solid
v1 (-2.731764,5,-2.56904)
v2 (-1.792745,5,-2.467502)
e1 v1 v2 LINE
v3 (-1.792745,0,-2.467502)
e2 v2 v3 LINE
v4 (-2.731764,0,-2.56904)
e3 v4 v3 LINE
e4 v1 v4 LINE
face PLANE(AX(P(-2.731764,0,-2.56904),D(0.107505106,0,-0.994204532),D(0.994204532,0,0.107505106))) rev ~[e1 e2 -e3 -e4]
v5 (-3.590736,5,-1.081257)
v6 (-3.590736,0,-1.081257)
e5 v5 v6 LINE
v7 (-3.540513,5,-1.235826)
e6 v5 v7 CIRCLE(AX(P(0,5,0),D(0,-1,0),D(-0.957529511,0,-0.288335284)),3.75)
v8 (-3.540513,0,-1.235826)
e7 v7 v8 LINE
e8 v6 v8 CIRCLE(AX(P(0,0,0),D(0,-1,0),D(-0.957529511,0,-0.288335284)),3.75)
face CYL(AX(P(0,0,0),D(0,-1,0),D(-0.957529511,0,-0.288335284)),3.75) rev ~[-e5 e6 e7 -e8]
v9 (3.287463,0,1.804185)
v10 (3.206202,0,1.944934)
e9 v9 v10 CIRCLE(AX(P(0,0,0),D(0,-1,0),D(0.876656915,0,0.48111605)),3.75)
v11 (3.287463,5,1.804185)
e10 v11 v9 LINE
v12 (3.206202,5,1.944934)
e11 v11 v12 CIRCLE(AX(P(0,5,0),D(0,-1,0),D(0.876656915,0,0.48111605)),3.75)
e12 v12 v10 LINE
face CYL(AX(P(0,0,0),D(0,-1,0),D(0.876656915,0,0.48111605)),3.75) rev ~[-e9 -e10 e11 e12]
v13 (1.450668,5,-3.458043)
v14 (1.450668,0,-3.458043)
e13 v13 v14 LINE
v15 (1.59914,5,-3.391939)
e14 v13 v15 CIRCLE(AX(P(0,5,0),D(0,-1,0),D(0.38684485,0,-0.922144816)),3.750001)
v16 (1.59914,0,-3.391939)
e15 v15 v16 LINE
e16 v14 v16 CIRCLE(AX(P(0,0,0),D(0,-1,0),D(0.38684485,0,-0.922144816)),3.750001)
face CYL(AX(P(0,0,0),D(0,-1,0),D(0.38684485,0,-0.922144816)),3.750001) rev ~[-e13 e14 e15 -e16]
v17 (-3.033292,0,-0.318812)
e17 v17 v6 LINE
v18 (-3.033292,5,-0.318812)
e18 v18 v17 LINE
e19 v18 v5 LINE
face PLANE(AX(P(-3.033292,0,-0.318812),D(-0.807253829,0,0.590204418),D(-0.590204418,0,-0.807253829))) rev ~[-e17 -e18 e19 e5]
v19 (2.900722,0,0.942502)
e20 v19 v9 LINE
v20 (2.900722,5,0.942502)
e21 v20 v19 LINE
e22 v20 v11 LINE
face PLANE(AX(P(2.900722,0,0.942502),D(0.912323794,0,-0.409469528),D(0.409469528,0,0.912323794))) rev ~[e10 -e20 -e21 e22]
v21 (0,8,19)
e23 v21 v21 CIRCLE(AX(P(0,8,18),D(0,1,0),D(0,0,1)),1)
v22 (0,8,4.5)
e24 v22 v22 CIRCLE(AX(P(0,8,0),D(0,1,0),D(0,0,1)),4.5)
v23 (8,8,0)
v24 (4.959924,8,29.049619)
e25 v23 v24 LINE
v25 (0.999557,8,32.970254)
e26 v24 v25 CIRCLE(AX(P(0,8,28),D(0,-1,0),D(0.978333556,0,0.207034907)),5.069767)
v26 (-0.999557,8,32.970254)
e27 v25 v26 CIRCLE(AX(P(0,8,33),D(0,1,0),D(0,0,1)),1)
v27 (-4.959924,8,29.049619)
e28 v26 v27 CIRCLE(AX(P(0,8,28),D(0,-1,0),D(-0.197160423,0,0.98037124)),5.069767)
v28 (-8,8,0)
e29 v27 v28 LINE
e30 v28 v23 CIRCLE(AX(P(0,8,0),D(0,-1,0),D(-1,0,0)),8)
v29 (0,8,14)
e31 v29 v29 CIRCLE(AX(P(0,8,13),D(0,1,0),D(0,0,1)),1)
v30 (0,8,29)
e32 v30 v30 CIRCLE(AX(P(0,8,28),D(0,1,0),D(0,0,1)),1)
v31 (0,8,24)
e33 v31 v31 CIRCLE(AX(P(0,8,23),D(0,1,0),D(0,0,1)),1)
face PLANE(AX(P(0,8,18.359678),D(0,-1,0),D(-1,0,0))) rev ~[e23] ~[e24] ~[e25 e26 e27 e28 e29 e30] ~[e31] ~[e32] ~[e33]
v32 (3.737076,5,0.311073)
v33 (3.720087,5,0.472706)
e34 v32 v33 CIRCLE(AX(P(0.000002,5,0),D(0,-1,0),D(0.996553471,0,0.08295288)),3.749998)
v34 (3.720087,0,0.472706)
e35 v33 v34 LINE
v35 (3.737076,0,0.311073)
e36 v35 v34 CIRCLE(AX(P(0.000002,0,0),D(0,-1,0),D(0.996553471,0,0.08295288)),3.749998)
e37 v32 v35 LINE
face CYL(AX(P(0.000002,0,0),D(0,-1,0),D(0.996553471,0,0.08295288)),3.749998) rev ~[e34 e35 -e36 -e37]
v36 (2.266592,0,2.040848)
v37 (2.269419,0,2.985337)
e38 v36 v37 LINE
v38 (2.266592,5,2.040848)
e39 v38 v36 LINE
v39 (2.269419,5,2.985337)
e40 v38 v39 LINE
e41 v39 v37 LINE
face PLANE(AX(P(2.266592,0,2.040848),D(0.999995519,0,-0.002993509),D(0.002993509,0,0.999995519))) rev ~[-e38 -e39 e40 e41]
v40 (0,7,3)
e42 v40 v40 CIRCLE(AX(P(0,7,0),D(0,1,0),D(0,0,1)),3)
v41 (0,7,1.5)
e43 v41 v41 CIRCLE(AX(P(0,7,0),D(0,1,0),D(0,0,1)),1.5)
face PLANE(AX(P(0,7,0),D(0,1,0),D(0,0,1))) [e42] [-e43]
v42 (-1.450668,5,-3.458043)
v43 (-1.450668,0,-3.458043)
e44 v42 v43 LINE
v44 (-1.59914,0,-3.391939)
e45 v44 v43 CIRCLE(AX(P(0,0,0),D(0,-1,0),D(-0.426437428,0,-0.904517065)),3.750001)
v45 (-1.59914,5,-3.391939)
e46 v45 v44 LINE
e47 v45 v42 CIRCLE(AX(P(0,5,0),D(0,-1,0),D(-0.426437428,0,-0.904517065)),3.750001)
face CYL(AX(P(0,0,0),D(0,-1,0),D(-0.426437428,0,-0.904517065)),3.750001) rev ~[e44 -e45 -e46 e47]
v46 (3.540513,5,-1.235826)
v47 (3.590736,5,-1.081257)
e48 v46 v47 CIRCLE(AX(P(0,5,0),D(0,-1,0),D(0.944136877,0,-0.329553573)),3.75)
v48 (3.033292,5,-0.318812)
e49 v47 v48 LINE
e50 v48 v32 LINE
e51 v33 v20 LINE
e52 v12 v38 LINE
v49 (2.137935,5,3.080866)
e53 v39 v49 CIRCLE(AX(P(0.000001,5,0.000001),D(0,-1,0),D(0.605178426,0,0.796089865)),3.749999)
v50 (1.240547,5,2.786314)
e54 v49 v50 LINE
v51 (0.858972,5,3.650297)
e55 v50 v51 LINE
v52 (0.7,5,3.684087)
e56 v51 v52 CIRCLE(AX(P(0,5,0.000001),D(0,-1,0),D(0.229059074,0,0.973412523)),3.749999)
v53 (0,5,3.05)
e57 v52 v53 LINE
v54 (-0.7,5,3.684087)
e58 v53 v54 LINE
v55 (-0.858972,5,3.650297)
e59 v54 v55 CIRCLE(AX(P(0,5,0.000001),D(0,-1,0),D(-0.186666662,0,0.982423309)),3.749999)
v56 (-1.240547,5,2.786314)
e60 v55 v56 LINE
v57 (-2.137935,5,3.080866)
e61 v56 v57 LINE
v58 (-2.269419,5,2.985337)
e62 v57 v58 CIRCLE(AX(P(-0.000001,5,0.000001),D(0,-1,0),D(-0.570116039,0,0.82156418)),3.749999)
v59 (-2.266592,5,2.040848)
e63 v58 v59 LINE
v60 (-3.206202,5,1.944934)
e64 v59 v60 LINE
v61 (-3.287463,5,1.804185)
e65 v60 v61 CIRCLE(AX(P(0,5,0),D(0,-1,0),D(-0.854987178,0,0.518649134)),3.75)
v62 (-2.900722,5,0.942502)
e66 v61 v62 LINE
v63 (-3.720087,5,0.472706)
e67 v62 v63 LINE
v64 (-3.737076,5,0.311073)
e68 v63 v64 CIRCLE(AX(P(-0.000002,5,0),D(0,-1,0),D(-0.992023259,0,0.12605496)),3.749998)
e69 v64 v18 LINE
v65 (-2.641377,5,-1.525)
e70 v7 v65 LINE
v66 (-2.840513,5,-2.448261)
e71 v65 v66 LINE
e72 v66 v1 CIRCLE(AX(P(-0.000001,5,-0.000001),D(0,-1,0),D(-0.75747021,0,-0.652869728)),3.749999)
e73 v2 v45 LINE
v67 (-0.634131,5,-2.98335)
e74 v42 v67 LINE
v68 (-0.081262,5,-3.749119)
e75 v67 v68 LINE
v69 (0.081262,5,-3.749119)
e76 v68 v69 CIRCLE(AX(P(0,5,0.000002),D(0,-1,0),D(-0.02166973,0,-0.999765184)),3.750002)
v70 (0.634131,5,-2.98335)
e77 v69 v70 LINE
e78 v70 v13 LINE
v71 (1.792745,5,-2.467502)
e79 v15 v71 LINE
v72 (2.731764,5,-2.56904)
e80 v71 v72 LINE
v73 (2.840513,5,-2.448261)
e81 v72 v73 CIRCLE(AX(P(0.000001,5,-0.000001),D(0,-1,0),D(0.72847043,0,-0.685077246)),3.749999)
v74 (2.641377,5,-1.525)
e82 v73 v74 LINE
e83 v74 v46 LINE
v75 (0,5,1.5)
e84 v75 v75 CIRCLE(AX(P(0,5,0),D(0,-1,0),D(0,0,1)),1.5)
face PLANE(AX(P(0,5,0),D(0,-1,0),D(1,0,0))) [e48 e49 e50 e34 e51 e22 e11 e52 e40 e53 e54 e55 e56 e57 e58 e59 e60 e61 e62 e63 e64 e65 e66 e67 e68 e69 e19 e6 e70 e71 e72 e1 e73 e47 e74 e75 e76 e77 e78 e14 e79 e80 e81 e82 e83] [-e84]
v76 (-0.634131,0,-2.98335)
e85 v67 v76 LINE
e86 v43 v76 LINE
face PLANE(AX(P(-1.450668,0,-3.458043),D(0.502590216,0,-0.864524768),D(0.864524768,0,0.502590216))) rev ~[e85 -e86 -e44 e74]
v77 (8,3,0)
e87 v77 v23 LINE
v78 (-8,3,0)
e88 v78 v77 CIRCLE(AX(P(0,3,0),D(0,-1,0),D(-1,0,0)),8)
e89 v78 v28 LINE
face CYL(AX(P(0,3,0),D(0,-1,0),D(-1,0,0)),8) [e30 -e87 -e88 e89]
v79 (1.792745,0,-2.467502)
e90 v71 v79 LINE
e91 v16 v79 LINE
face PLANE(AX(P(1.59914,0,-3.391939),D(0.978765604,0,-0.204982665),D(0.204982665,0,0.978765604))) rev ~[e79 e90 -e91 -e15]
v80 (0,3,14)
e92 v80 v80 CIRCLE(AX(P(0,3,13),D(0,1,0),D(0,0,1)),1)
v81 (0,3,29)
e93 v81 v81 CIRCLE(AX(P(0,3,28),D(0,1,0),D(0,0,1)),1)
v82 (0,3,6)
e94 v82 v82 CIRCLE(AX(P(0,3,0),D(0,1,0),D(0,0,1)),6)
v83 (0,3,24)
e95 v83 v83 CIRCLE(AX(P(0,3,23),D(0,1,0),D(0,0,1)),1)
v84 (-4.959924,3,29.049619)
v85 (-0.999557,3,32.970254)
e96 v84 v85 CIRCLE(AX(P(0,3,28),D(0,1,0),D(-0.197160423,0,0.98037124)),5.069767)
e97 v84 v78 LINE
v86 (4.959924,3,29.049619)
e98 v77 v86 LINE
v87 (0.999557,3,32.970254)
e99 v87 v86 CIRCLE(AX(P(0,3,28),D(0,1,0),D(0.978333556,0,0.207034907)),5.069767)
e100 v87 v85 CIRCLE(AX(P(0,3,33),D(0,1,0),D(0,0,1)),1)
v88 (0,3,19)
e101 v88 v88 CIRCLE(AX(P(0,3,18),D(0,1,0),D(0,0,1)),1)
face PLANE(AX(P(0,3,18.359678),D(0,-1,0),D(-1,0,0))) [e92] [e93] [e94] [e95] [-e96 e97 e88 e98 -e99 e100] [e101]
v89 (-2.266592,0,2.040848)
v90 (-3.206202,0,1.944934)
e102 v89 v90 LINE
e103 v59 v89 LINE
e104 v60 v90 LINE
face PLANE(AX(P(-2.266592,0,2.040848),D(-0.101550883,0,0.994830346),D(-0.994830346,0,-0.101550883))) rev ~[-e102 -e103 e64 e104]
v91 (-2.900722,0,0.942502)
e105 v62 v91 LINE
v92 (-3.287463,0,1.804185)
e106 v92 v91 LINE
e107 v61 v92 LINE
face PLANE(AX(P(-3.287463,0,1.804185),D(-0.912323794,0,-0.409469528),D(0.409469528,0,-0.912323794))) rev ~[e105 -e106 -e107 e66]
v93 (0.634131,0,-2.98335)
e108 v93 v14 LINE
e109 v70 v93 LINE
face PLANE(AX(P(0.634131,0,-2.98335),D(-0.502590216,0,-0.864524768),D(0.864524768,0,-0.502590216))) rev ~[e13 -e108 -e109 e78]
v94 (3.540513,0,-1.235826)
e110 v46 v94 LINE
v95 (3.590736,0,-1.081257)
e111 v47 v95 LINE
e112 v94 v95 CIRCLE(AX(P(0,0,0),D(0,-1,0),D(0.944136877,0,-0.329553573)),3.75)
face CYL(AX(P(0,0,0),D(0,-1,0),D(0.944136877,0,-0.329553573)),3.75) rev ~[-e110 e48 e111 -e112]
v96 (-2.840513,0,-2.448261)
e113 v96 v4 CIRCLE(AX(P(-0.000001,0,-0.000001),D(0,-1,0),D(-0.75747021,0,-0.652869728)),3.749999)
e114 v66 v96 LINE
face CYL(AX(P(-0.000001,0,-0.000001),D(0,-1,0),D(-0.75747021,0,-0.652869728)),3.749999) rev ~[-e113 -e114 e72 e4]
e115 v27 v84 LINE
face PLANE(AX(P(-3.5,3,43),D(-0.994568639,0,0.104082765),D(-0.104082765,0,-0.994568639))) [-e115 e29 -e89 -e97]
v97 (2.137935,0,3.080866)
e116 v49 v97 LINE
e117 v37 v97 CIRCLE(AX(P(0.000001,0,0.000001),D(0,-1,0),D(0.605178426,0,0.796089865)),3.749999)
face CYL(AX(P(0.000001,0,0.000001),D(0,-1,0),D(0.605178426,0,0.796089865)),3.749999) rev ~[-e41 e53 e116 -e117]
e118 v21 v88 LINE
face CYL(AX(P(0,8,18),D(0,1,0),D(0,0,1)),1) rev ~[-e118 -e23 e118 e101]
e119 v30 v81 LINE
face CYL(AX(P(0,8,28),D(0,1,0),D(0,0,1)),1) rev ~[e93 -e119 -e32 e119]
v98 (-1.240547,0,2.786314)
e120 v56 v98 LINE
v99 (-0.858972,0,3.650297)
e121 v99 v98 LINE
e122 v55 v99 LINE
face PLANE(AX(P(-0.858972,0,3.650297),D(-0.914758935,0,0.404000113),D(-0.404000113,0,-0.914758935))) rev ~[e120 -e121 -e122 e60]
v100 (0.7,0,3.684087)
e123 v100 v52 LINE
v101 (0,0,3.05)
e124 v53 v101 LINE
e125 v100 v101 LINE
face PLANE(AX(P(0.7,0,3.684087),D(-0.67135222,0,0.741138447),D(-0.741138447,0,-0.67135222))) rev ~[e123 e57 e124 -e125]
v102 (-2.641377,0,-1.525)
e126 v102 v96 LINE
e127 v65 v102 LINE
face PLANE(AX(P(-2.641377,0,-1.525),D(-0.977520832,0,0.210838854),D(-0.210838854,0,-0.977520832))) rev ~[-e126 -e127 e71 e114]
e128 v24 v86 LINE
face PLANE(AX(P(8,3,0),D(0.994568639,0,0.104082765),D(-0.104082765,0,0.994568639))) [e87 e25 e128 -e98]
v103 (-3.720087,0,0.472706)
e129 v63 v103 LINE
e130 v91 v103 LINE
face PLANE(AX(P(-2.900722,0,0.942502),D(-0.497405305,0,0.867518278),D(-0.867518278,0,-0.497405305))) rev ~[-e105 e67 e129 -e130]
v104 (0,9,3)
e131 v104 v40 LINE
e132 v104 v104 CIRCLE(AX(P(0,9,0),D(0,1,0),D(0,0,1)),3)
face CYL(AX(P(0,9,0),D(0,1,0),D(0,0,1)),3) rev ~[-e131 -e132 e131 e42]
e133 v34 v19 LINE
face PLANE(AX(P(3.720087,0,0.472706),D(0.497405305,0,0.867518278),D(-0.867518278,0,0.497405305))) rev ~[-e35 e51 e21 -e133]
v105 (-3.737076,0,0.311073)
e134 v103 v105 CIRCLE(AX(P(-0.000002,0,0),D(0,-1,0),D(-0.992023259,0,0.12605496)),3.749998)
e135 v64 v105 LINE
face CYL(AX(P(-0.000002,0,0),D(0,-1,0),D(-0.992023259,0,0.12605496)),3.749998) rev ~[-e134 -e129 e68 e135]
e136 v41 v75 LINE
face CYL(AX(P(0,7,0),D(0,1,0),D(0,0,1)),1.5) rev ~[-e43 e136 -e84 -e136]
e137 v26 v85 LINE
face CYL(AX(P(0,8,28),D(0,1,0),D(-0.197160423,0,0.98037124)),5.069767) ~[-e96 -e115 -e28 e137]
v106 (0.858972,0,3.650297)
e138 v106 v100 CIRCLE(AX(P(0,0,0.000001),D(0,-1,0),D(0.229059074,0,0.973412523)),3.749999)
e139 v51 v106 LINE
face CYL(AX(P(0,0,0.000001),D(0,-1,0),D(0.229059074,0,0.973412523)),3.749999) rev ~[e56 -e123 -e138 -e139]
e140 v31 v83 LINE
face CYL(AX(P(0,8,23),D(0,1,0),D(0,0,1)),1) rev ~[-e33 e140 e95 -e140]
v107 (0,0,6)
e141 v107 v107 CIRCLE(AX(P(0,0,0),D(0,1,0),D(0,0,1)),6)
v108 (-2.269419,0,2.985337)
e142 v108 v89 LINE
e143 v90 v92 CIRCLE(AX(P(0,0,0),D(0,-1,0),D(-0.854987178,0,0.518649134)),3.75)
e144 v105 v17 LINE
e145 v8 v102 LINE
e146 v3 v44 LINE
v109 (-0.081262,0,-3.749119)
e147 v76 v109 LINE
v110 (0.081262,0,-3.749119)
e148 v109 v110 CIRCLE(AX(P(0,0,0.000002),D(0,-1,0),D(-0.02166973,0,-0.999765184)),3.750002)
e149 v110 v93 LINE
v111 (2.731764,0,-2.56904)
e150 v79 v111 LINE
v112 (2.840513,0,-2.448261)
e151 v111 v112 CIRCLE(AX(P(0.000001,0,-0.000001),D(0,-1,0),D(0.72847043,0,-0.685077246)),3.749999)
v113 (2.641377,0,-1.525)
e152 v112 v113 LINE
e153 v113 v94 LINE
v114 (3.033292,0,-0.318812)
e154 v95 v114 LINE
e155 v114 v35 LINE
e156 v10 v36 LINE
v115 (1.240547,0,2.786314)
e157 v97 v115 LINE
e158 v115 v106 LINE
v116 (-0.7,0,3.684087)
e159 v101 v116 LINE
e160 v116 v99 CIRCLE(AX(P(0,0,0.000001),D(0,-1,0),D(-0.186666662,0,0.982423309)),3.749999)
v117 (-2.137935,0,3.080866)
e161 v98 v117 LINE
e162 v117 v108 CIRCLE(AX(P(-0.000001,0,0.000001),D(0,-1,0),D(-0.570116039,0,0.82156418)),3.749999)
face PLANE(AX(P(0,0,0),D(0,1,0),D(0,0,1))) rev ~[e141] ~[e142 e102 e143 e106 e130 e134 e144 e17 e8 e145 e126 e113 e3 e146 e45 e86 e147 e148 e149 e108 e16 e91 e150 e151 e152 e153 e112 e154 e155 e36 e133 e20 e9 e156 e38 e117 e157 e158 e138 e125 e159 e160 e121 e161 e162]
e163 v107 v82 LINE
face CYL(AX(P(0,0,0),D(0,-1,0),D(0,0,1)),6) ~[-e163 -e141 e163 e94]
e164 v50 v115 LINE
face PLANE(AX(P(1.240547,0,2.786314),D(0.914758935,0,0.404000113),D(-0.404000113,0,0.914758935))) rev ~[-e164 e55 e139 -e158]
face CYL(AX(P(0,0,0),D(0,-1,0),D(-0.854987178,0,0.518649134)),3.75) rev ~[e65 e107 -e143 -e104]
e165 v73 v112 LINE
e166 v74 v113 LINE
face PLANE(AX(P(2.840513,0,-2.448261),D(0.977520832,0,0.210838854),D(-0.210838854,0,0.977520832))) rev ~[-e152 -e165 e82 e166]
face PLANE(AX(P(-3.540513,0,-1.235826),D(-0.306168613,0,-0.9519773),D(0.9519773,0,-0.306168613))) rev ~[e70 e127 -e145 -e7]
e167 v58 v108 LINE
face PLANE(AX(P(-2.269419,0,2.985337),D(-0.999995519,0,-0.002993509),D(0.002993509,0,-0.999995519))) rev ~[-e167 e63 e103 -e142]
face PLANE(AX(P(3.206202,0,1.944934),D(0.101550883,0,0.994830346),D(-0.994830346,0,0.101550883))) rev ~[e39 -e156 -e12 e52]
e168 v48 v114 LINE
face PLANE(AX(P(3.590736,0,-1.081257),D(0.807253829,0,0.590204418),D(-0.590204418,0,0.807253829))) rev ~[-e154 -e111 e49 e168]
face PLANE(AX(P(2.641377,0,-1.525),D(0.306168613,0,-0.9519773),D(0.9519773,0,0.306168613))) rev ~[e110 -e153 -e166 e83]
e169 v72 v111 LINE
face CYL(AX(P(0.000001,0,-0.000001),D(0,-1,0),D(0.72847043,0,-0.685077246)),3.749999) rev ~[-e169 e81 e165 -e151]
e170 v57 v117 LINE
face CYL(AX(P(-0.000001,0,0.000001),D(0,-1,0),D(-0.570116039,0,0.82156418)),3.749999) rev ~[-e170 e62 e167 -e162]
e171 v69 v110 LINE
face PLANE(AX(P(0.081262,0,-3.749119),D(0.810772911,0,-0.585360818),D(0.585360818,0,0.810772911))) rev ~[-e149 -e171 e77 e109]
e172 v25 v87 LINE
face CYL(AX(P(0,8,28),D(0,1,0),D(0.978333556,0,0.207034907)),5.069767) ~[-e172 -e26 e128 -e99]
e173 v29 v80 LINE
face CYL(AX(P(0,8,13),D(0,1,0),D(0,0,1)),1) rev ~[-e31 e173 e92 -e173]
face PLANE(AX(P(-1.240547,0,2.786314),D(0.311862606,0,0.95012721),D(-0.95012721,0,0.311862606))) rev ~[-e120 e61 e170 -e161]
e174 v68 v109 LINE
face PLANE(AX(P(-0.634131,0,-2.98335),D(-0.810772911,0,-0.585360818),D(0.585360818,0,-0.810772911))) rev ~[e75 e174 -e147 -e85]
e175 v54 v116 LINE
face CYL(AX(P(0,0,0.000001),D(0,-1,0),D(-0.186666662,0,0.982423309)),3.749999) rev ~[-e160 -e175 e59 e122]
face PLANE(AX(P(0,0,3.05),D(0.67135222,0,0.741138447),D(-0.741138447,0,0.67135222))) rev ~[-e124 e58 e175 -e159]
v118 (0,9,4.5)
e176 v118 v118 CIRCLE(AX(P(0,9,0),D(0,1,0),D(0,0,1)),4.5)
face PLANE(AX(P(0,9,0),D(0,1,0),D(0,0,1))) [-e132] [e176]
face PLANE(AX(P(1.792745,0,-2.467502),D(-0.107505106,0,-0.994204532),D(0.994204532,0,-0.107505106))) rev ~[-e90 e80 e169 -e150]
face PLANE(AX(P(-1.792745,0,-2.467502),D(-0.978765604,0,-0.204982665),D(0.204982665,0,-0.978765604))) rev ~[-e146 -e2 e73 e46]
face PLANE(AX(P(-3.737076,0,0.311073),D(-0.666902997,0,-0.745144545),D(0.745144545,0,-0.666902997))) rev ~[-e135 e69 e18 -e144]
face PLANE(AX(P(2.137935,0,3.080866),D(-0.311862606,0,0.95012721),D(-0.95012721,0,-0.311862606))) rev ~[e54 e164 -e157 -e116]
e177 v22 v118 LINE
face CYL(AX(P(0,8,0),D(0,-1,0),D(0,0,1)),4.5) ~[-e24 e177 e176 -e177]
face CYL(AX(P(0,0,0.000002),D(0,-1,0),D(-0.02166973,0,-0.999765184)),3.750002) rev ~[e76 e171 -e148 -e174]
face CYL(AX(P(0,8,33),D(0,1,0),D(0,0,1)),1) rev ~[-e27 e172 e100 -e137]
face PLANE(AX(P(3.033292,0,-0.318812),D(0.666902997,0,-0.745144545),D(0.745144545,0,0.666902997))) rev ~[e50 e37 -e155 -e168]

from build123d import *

# Parameters (mm, degrees)
SKETCH1_R           = 6
BOSS_EXTRUDE1_DEPTH = 3
CUT_EXTRUDE4_DEPTH  = 10
BOSS_EXTRUDE2_DEPTH = 5
SKETCH3_R           = 4.5
BOSS_EXTRUDE3_DEPTH = 1
SKETCH4_R           = 3
CUT_EXTRUDE1_DEPTH  = 2
SKETCH5_R           = 1.5
CUT_EXTRUDE2_DEPTH  = 48.699580711
SKETCH6_R           = 1
CUT_EXTRUDE3_DEPTH  = 10
SKETCH8_R           = 1.5
CUT_EXTRUDE5_DEPTH  = 2
SKETCH9_R           = 1
CUT_EXTRUDE6_DEPTH  = 10


with BuildPart() as part:
    # Sketch1 → Boss-Extrude1 (new body)
    with BuildSketch(Plane(origin=(0, 0, 0), x_dir=(1, 0, 0), z_dir=(0, 1, 0))):
        with Locations(Location((0, 0, 0), (0, 0, 270))):
            Circle(SKETCH1_R)
    extrude(amount=BOSS_EXTRUDE1_DEPTH)

    # Sketch7 → Cut-Extrude4 (cut, through all)
    with BuildSketch(Plane.XZ):
        with BuildLine():
            Line((0.7, 3.684087404), (0, 3.05))
            Line((0, 3.05), (-0.7, 3.684087404))
            ThreePointArc((-0.7, 3.684087404), (-0.779668841, 3.668053503), (-0.858971523, 3.650296964))
            Line((-0.858971523, 3.650296964), (-1.240546761, 2.786313646))
            Line((-1.240546761, 2.786313646), (-2.137935164, 3.080865663))
            ThreePointArc((-2.137935164, 3.080865663), (-2.204194696, 3.033813729), (-2.269419066, 2.985337016))
            Line((-2.269419066, 2.985337016), (-2.266591718, 2.040848349))
            Line((-2.266591718, 2.040848349), (-3.206201915, 1.944934261))
            ThreePointArc((-3.206201915, 1.944934261), (-3.247595264, 1.875), (-3.287463436, 1.804185178))
            Line((-3.287463436, 1.804185178), (-2.900722375, 0.942501833))
            Line((-2.900722375, 0.942501833), (-3.720087228, 0.472706055))
            ThreePointArc((-3.720087228, 0.472706055), (-3.729457108, 0.391981737), (-3.737075512, 0.311073332))
            Line((-3.737075512, 0.311073332), (-3.033291781, -0.318811813))
            Line((-3.033291781, -0.318811813), (-3.590735663, -1.081257322))
            ThreePointArc((-3.590735663, -1.081257322), (-3.566461936, -1.158813729), (-3.540513282, -1.235825919))
            Line((-3.540513282, -1.235825919), (-2.641377482, -1.525))
            Line((-2.641377482, -1.525), (-2.840513282, -2.448261485))
            ThreePointArc((-2.840513282, -2.448261485), (-2.786793096, -2.509239774), (-2.73176414, -2.569039642))
            Line((-2.73176414, -2.569039642), (-1.792745019, -2.467501833))
            Line((-1.792745019, -2.467501833), (-1.599140348, -3.391938995))
            ThreePointArc((-1.599140348, -3.391938995), (-1.525262412, -3.425795466), (-1.450668162, -3.458043072))
            Line((-1.450668162, -3.458043072), (-0.634130657, -2.983350182))
            Line((-0.634130657, -2.983350182), (-0.081261521, -3.749119439))
            ThreePointArc((-0.081261521, -3.749119439), (0, -3.75), (0.081261521, -3.749119439))
            Line((0.081261521, -3.749119439), (0.634130657, -2.983350182))
            Line((0.634130657, -2.983350182), (1.450668162, -3.458043072))
            ThreePointArc((1.450668162, -3.458043072), (1.525262412, -3.425795466), (1.599140348, -3.391938995))
            Line((1.599140348, -3.391938995), (1.792745019, -2.467501833))
            Line((1.792745019, -2.467501833), (2.73176414, -2.569039642))
            ThreePointArc((2.73176414, -2.569039642), (2.786793096, -2.509239774), (2.840513282, -2.448261485))
            Line((2.840513282, -2.448261485), (2.641377482, -1.525))
            Line((2.641377482, -1.525), (3.540513282, -1.235825919))
            ThreePointArc((3.540513282, -1.235825919), (3.566461936, -1.158813729), (3.590735663, -1.081257322))
            Line((3.590735663, -1.081257322), (3.033291781, -0.318811813))
            Line((3.033291781, -0.318811813), (3.737075512, 0.311073332))
            ThreePointArc((3.737075512, 0.311073332), (3.729457108, 0.391981737), (3.720087228, 0.472706055))
            Line((3.720087228, 0.472706055), (2.900722375, 0.942501833))
            Line((2.900722375, 0.942501833), (3.287463436, 1.804185178))
            ThreePointArc((3.287463436, 1.804185178), (3.247595264, 1.875), (3.206201915, 1.944934261))
            Line((3.206201915, 1.944934261), (2.266591718, 2.040848349))
            Line((2.266591718, 2.040848349), (2.269419066, 2.985337016))
            ThreePointArc((2.269419066, 2.985337016), (2.204194696, 3.033813729), (2.137935164, 3.080865663))
            Line((2.137935164, 3.080865663), (1.240546761, 2.786313646))
            Line((1.240546761, 2.786313646), (0.858971523, 3.650296964))
            ThreePointArc((0.858971523, 3.650296964), (0.779668841, 3.668053503), (0.7, 3.684087404))
        make_face()
    extrude(amount=-CUT_EXTRUDE4_DEPTH, mode=Mode.SUBTRACT)

    # Sketch2 → Boss-Extrude2 (add)
    with BuildSketch(Plane(origin=(0, 3, 0), x_dir=(1, 0, 0), z_dir=(0, 1, 0))):
        with BuildLine():
            Line((8, 0), (3.5, -43))
            ThreePointArc((3.5, -43), (0, -46.5), (-3.5, -43))
            Line((-3.5, -43), (-8, 0))
            ThreePointArc((-8, 0), (0, 8), (8, 0))
        make_face()
    extrude(amount=BOSS_EXTRUDE2_DEPTH)

    # Sketch3 → Boss-Extrude3 (add)
    with BuildSketch(Plane(origin=(0, 8, 0), x_dir=(1, 0, 0), z_dir=(0, 1, 0))):
        with Locations(Location((0, 0, 0), (0, 0, 270))):
            Circle(SKETCH3_R)
    extrude(amount=BOSS_EXTRUDE3_DEPTH)

    # Sketch4 → Cut-Extrude1 (cut)
    with BuildSketch(Plane(origin=(0, 9, 0), x_dir=(1, 0, 0), z_dir=(0, 1, 0))):
        with Locations(Location((0, 0, 0), (0, 0, 270))):
            Circle(SKETCH4_R)
    extrude(amount=-CUT_EXTRUDE1_DEPTH, mode=Mode.SUBTRACT)

    # Sketch5 → Cut-Extrude2 (cut, through all)
    with BuildSketch(Plane(origin=(0, 7, 0), x_dir=(1, 0, 0), z_dir=(0, 1, 0))):
        with Locations(Location((0, 0, 0), (0, 0, 270))):
            Circle(SKETCH5_R)
    extrude(amount=-CUT_EXTRUDE2_DEPTH, mode=Mode.SUBTRACT)

    # Sketch6 → Cut-Extrude3 (cut)
    with BuildSketch(Plane(origin=(0, 8, 0), x_dir=(1, 0, 0), z_dir=(0, 1, 0))):
        with Locations(Location((0, -13, 0), (0, 0, 270))):
            Circle(SKETCH6_R)
        with Locations(Location((0, -18, 0), (0, 0, 270))):
            Circle(SKETCH6_R)
        with Locations(Location((0, -23, 0), (0, 0, 270))):
            Circle(SKETCH6_R)
        with Locations(Location((0, -28, 0), (0, 0, 270))):
            Circle(SKETCH6_R)
        with Locations(Location((0, -33, 0), (0, 0, 270))):
            Circle(SKETCH6_R)
        with Locations(Location((0, -38, 0), (0, 0, 270))):
            Circle(SKETCH6_R)
        with Locations(Location((0, -43, 0), (0, 0, 270))):
            Circle(SKETCH6_R)
    extrude(amount=-CUT_EXTRUDE3_DEPTH, mode=Mode.SUBTRACT)

    # Sketch8 → Cut-Extrude5 (cut)
    with BuildSketch(Plane.XZ.offset(-3)):
        with BuildLine():
            Line((-0.858971523, 3.650296964), (-1.240546761, 2.786313646))
            Line((-1.240546761, 2.786313646), (-2.137935164, 3.080865663))
            ThreePointArc((-2.137935164, 3.080865663), (-2.204194696, 3.033813729), (-2.269419066, 2.985337016))
            Line((-2.269419066, 2.985337016), (-2.266591718, 2.040848349))
            Line((-2.266591718, 2.040848349), (-3.206201915, 1.944934261))
            ThreePointArc((-3.206201915, 1.944934261), (-3.247595264, 1.875), (-3.287463436, 1.804185178))
            Line((-3.287463436, 1.804185178), (-2.900722375, 0.942501833))
            Line((-2.900722375, 0.942501833), (-3.720087228, 0.472706055))
            ThreePointArc((-3.720087228, 0.472706055), (-3.729457108, 0.391981737), (-3.737075512, 0.311073332))
            Line((-3.737075512, 0.311073332), (-3.033291781, -0.318811813))
            Line((-3.033291781, -0.318811813), (-3.590735663, -1.081257322))
            ThreePointArc((-3.590735663, -1.081257322), (-3.566461936, -1.158813729), (-3.540513282, -1.235825919))
            Line((-3.540513282, -1.235825919), (-2.641377482, -1.525))
            Line((-2.641377482, -1.525), (-2.840513282, -2.448261485))
            ThreePointArc((-2.840513282, -2.448261485), (-2.786793096, -2.509239774), (-2.73176414, -2.569039642))
            Line((-2.73176414, -2.569039642), (-1.792745019, -2.467501833))
            Line((-1.792745019, -2.467501833), (-1.599140348, -3.391938995))
            ThreePointArc((-1.599140348, -3.391938995), (-1.525262412, -3.425795466), (-1.450668162, -3.458043072))
            Line((-1.450668162, -3.458043072), (-0.634130657, -2.983350182))
            Line((-0.634130657, -2.983350182), (-0.081261521, -3.749119439))
            ThreePointArc((-0.081261521, -3.749119439), (0, -3.75), (0.081261521, -3.749119439))
            Line((0.081261521, -3.749119439), (0.634130657, -2.983350182))
            Line((0.634130657, -2.983350182), (1.450668162, -3.458043072))
            ThreePointArc((1.450668162, -3.458043072), (1.525262412, -3.425795466), (1.599140348, -3.391938995))
            Line((1.599140348, -3.391938995), (1.792745019, -2.467501833))
            Line((1.792745019, -2.467501833), (2.73176414, -2.569039642))
            ThreePointArc((2.73176414, -2.569039642), (2.786793096, -2.509239774), (2.840513282, -2.448261485))
            Line((2.840513282, -2.448261485), (2.641377482, -1.525))
            Line((2.641377482, -1.525), (3.540513282, -1.235825919))
            ThreePointArc((3.540513282, -1.235825919), (3.566461936, -1.158813729), (3.590735663, -1.081257322))
            Line((3.590735663, -1.081257322), (3.033291781, -0.318811813))
            Line((3.033291781, -0.318811813), (3.737075512, 0.311073332))
            ThreePointArc((3.737075512, 0.311073332), (3.729457108, 0.391981737), (3.720087228, 0.472706055))
            Line((3.720087228, 0.472706055), (2.900722375, 0.942501833))
            Line((2.900722375, 0.942501833), (3.287463436, 1.804185178))
            ThreePointArc((3.287463436, 1.804185178), (3.247595264, 1.875), (3.206201915, 1.944934261))
            Line((3.206201915, 1.944934261), (2.266591718, 2.040848349))
            Line((2.266591718, 2.040848349), (2.269419066, 2.985337016))
            ThreePointArc((2.269419066, 2.985337016), (2.204194696, 3.033813729), (2.137935164, 3.080865663))
            Line((2.137935164, 3.080865663), (1.240546761, 2.786313646))
            Line((1.240546761, 2.786313646), (0.858971523, 3.650296964))
            ThreePointArc((0.858971523, 3.650296964), (0.779668841, 3.668053503), (0.7, 3.684087404))
            Line((0.7, 3.684087404), (0, 3.05))
            Line((0, 3.05), (-0.7, 3.684087404))
            ThreePointArc((-0.7, 3.684087404), (-0.779668841, 3.668053503), (-0.858971523, 3.650296964))
        make_face()
        with Locations(Location((0, 0, 0), (0, 0, 90))):
            Circle(SKETCH8_R, mode=Mode.SUBTRACT)
    extrude(amount=-CUT_EXTRUDE5_DEPTH, mode=Mode.SUBTRACT)

    # Sketch9 → Cut-Extrude6 (cut)
    with BuildSketch(Plane(origin=(0, 8, 0), x_dir=(1, 0, 0), z_dir=(0, 1, 0))):
        with BuildLine():
            ThreePointArc((-0.999557496, -32.970254191), (-3.566749104, -31.602893663), (-4.959923611, -29.049618831))
            Line((-4.959923611, -29.049618831), (-3.5, -43))
            ThreePointArc((-3.5, -43), (0, -46.5), (3.5, -43))
            Line((3.5, -43), (4.959923611, -29.049618831))
            ThreePointArc((4.959923611, -29.049618831), (3.566749104, -31.602893663), (0.999557496, -32.970254191))
            ThreePointArc((0.999557496, -32.970254191), (0.999889368, -32.98512545), (1, -33))
            ThreePointArc((1, -33), (-0.01487455, -33.999889368), (-0.999557496, -32.970254191))
        make_face()
        with Locations((0, -43)):
            Circle(SKETCH9_R, mode=Mode.SUBTRACT)
        with Locations((0, -38)):
            Circle(SKETCH9_R, mode=Mode.SUBTRACT)
    extrude(amount=-CUT_EXTRUDE6_DEPTH, mode=Mode.SUBTRACT)


solid = part.part
